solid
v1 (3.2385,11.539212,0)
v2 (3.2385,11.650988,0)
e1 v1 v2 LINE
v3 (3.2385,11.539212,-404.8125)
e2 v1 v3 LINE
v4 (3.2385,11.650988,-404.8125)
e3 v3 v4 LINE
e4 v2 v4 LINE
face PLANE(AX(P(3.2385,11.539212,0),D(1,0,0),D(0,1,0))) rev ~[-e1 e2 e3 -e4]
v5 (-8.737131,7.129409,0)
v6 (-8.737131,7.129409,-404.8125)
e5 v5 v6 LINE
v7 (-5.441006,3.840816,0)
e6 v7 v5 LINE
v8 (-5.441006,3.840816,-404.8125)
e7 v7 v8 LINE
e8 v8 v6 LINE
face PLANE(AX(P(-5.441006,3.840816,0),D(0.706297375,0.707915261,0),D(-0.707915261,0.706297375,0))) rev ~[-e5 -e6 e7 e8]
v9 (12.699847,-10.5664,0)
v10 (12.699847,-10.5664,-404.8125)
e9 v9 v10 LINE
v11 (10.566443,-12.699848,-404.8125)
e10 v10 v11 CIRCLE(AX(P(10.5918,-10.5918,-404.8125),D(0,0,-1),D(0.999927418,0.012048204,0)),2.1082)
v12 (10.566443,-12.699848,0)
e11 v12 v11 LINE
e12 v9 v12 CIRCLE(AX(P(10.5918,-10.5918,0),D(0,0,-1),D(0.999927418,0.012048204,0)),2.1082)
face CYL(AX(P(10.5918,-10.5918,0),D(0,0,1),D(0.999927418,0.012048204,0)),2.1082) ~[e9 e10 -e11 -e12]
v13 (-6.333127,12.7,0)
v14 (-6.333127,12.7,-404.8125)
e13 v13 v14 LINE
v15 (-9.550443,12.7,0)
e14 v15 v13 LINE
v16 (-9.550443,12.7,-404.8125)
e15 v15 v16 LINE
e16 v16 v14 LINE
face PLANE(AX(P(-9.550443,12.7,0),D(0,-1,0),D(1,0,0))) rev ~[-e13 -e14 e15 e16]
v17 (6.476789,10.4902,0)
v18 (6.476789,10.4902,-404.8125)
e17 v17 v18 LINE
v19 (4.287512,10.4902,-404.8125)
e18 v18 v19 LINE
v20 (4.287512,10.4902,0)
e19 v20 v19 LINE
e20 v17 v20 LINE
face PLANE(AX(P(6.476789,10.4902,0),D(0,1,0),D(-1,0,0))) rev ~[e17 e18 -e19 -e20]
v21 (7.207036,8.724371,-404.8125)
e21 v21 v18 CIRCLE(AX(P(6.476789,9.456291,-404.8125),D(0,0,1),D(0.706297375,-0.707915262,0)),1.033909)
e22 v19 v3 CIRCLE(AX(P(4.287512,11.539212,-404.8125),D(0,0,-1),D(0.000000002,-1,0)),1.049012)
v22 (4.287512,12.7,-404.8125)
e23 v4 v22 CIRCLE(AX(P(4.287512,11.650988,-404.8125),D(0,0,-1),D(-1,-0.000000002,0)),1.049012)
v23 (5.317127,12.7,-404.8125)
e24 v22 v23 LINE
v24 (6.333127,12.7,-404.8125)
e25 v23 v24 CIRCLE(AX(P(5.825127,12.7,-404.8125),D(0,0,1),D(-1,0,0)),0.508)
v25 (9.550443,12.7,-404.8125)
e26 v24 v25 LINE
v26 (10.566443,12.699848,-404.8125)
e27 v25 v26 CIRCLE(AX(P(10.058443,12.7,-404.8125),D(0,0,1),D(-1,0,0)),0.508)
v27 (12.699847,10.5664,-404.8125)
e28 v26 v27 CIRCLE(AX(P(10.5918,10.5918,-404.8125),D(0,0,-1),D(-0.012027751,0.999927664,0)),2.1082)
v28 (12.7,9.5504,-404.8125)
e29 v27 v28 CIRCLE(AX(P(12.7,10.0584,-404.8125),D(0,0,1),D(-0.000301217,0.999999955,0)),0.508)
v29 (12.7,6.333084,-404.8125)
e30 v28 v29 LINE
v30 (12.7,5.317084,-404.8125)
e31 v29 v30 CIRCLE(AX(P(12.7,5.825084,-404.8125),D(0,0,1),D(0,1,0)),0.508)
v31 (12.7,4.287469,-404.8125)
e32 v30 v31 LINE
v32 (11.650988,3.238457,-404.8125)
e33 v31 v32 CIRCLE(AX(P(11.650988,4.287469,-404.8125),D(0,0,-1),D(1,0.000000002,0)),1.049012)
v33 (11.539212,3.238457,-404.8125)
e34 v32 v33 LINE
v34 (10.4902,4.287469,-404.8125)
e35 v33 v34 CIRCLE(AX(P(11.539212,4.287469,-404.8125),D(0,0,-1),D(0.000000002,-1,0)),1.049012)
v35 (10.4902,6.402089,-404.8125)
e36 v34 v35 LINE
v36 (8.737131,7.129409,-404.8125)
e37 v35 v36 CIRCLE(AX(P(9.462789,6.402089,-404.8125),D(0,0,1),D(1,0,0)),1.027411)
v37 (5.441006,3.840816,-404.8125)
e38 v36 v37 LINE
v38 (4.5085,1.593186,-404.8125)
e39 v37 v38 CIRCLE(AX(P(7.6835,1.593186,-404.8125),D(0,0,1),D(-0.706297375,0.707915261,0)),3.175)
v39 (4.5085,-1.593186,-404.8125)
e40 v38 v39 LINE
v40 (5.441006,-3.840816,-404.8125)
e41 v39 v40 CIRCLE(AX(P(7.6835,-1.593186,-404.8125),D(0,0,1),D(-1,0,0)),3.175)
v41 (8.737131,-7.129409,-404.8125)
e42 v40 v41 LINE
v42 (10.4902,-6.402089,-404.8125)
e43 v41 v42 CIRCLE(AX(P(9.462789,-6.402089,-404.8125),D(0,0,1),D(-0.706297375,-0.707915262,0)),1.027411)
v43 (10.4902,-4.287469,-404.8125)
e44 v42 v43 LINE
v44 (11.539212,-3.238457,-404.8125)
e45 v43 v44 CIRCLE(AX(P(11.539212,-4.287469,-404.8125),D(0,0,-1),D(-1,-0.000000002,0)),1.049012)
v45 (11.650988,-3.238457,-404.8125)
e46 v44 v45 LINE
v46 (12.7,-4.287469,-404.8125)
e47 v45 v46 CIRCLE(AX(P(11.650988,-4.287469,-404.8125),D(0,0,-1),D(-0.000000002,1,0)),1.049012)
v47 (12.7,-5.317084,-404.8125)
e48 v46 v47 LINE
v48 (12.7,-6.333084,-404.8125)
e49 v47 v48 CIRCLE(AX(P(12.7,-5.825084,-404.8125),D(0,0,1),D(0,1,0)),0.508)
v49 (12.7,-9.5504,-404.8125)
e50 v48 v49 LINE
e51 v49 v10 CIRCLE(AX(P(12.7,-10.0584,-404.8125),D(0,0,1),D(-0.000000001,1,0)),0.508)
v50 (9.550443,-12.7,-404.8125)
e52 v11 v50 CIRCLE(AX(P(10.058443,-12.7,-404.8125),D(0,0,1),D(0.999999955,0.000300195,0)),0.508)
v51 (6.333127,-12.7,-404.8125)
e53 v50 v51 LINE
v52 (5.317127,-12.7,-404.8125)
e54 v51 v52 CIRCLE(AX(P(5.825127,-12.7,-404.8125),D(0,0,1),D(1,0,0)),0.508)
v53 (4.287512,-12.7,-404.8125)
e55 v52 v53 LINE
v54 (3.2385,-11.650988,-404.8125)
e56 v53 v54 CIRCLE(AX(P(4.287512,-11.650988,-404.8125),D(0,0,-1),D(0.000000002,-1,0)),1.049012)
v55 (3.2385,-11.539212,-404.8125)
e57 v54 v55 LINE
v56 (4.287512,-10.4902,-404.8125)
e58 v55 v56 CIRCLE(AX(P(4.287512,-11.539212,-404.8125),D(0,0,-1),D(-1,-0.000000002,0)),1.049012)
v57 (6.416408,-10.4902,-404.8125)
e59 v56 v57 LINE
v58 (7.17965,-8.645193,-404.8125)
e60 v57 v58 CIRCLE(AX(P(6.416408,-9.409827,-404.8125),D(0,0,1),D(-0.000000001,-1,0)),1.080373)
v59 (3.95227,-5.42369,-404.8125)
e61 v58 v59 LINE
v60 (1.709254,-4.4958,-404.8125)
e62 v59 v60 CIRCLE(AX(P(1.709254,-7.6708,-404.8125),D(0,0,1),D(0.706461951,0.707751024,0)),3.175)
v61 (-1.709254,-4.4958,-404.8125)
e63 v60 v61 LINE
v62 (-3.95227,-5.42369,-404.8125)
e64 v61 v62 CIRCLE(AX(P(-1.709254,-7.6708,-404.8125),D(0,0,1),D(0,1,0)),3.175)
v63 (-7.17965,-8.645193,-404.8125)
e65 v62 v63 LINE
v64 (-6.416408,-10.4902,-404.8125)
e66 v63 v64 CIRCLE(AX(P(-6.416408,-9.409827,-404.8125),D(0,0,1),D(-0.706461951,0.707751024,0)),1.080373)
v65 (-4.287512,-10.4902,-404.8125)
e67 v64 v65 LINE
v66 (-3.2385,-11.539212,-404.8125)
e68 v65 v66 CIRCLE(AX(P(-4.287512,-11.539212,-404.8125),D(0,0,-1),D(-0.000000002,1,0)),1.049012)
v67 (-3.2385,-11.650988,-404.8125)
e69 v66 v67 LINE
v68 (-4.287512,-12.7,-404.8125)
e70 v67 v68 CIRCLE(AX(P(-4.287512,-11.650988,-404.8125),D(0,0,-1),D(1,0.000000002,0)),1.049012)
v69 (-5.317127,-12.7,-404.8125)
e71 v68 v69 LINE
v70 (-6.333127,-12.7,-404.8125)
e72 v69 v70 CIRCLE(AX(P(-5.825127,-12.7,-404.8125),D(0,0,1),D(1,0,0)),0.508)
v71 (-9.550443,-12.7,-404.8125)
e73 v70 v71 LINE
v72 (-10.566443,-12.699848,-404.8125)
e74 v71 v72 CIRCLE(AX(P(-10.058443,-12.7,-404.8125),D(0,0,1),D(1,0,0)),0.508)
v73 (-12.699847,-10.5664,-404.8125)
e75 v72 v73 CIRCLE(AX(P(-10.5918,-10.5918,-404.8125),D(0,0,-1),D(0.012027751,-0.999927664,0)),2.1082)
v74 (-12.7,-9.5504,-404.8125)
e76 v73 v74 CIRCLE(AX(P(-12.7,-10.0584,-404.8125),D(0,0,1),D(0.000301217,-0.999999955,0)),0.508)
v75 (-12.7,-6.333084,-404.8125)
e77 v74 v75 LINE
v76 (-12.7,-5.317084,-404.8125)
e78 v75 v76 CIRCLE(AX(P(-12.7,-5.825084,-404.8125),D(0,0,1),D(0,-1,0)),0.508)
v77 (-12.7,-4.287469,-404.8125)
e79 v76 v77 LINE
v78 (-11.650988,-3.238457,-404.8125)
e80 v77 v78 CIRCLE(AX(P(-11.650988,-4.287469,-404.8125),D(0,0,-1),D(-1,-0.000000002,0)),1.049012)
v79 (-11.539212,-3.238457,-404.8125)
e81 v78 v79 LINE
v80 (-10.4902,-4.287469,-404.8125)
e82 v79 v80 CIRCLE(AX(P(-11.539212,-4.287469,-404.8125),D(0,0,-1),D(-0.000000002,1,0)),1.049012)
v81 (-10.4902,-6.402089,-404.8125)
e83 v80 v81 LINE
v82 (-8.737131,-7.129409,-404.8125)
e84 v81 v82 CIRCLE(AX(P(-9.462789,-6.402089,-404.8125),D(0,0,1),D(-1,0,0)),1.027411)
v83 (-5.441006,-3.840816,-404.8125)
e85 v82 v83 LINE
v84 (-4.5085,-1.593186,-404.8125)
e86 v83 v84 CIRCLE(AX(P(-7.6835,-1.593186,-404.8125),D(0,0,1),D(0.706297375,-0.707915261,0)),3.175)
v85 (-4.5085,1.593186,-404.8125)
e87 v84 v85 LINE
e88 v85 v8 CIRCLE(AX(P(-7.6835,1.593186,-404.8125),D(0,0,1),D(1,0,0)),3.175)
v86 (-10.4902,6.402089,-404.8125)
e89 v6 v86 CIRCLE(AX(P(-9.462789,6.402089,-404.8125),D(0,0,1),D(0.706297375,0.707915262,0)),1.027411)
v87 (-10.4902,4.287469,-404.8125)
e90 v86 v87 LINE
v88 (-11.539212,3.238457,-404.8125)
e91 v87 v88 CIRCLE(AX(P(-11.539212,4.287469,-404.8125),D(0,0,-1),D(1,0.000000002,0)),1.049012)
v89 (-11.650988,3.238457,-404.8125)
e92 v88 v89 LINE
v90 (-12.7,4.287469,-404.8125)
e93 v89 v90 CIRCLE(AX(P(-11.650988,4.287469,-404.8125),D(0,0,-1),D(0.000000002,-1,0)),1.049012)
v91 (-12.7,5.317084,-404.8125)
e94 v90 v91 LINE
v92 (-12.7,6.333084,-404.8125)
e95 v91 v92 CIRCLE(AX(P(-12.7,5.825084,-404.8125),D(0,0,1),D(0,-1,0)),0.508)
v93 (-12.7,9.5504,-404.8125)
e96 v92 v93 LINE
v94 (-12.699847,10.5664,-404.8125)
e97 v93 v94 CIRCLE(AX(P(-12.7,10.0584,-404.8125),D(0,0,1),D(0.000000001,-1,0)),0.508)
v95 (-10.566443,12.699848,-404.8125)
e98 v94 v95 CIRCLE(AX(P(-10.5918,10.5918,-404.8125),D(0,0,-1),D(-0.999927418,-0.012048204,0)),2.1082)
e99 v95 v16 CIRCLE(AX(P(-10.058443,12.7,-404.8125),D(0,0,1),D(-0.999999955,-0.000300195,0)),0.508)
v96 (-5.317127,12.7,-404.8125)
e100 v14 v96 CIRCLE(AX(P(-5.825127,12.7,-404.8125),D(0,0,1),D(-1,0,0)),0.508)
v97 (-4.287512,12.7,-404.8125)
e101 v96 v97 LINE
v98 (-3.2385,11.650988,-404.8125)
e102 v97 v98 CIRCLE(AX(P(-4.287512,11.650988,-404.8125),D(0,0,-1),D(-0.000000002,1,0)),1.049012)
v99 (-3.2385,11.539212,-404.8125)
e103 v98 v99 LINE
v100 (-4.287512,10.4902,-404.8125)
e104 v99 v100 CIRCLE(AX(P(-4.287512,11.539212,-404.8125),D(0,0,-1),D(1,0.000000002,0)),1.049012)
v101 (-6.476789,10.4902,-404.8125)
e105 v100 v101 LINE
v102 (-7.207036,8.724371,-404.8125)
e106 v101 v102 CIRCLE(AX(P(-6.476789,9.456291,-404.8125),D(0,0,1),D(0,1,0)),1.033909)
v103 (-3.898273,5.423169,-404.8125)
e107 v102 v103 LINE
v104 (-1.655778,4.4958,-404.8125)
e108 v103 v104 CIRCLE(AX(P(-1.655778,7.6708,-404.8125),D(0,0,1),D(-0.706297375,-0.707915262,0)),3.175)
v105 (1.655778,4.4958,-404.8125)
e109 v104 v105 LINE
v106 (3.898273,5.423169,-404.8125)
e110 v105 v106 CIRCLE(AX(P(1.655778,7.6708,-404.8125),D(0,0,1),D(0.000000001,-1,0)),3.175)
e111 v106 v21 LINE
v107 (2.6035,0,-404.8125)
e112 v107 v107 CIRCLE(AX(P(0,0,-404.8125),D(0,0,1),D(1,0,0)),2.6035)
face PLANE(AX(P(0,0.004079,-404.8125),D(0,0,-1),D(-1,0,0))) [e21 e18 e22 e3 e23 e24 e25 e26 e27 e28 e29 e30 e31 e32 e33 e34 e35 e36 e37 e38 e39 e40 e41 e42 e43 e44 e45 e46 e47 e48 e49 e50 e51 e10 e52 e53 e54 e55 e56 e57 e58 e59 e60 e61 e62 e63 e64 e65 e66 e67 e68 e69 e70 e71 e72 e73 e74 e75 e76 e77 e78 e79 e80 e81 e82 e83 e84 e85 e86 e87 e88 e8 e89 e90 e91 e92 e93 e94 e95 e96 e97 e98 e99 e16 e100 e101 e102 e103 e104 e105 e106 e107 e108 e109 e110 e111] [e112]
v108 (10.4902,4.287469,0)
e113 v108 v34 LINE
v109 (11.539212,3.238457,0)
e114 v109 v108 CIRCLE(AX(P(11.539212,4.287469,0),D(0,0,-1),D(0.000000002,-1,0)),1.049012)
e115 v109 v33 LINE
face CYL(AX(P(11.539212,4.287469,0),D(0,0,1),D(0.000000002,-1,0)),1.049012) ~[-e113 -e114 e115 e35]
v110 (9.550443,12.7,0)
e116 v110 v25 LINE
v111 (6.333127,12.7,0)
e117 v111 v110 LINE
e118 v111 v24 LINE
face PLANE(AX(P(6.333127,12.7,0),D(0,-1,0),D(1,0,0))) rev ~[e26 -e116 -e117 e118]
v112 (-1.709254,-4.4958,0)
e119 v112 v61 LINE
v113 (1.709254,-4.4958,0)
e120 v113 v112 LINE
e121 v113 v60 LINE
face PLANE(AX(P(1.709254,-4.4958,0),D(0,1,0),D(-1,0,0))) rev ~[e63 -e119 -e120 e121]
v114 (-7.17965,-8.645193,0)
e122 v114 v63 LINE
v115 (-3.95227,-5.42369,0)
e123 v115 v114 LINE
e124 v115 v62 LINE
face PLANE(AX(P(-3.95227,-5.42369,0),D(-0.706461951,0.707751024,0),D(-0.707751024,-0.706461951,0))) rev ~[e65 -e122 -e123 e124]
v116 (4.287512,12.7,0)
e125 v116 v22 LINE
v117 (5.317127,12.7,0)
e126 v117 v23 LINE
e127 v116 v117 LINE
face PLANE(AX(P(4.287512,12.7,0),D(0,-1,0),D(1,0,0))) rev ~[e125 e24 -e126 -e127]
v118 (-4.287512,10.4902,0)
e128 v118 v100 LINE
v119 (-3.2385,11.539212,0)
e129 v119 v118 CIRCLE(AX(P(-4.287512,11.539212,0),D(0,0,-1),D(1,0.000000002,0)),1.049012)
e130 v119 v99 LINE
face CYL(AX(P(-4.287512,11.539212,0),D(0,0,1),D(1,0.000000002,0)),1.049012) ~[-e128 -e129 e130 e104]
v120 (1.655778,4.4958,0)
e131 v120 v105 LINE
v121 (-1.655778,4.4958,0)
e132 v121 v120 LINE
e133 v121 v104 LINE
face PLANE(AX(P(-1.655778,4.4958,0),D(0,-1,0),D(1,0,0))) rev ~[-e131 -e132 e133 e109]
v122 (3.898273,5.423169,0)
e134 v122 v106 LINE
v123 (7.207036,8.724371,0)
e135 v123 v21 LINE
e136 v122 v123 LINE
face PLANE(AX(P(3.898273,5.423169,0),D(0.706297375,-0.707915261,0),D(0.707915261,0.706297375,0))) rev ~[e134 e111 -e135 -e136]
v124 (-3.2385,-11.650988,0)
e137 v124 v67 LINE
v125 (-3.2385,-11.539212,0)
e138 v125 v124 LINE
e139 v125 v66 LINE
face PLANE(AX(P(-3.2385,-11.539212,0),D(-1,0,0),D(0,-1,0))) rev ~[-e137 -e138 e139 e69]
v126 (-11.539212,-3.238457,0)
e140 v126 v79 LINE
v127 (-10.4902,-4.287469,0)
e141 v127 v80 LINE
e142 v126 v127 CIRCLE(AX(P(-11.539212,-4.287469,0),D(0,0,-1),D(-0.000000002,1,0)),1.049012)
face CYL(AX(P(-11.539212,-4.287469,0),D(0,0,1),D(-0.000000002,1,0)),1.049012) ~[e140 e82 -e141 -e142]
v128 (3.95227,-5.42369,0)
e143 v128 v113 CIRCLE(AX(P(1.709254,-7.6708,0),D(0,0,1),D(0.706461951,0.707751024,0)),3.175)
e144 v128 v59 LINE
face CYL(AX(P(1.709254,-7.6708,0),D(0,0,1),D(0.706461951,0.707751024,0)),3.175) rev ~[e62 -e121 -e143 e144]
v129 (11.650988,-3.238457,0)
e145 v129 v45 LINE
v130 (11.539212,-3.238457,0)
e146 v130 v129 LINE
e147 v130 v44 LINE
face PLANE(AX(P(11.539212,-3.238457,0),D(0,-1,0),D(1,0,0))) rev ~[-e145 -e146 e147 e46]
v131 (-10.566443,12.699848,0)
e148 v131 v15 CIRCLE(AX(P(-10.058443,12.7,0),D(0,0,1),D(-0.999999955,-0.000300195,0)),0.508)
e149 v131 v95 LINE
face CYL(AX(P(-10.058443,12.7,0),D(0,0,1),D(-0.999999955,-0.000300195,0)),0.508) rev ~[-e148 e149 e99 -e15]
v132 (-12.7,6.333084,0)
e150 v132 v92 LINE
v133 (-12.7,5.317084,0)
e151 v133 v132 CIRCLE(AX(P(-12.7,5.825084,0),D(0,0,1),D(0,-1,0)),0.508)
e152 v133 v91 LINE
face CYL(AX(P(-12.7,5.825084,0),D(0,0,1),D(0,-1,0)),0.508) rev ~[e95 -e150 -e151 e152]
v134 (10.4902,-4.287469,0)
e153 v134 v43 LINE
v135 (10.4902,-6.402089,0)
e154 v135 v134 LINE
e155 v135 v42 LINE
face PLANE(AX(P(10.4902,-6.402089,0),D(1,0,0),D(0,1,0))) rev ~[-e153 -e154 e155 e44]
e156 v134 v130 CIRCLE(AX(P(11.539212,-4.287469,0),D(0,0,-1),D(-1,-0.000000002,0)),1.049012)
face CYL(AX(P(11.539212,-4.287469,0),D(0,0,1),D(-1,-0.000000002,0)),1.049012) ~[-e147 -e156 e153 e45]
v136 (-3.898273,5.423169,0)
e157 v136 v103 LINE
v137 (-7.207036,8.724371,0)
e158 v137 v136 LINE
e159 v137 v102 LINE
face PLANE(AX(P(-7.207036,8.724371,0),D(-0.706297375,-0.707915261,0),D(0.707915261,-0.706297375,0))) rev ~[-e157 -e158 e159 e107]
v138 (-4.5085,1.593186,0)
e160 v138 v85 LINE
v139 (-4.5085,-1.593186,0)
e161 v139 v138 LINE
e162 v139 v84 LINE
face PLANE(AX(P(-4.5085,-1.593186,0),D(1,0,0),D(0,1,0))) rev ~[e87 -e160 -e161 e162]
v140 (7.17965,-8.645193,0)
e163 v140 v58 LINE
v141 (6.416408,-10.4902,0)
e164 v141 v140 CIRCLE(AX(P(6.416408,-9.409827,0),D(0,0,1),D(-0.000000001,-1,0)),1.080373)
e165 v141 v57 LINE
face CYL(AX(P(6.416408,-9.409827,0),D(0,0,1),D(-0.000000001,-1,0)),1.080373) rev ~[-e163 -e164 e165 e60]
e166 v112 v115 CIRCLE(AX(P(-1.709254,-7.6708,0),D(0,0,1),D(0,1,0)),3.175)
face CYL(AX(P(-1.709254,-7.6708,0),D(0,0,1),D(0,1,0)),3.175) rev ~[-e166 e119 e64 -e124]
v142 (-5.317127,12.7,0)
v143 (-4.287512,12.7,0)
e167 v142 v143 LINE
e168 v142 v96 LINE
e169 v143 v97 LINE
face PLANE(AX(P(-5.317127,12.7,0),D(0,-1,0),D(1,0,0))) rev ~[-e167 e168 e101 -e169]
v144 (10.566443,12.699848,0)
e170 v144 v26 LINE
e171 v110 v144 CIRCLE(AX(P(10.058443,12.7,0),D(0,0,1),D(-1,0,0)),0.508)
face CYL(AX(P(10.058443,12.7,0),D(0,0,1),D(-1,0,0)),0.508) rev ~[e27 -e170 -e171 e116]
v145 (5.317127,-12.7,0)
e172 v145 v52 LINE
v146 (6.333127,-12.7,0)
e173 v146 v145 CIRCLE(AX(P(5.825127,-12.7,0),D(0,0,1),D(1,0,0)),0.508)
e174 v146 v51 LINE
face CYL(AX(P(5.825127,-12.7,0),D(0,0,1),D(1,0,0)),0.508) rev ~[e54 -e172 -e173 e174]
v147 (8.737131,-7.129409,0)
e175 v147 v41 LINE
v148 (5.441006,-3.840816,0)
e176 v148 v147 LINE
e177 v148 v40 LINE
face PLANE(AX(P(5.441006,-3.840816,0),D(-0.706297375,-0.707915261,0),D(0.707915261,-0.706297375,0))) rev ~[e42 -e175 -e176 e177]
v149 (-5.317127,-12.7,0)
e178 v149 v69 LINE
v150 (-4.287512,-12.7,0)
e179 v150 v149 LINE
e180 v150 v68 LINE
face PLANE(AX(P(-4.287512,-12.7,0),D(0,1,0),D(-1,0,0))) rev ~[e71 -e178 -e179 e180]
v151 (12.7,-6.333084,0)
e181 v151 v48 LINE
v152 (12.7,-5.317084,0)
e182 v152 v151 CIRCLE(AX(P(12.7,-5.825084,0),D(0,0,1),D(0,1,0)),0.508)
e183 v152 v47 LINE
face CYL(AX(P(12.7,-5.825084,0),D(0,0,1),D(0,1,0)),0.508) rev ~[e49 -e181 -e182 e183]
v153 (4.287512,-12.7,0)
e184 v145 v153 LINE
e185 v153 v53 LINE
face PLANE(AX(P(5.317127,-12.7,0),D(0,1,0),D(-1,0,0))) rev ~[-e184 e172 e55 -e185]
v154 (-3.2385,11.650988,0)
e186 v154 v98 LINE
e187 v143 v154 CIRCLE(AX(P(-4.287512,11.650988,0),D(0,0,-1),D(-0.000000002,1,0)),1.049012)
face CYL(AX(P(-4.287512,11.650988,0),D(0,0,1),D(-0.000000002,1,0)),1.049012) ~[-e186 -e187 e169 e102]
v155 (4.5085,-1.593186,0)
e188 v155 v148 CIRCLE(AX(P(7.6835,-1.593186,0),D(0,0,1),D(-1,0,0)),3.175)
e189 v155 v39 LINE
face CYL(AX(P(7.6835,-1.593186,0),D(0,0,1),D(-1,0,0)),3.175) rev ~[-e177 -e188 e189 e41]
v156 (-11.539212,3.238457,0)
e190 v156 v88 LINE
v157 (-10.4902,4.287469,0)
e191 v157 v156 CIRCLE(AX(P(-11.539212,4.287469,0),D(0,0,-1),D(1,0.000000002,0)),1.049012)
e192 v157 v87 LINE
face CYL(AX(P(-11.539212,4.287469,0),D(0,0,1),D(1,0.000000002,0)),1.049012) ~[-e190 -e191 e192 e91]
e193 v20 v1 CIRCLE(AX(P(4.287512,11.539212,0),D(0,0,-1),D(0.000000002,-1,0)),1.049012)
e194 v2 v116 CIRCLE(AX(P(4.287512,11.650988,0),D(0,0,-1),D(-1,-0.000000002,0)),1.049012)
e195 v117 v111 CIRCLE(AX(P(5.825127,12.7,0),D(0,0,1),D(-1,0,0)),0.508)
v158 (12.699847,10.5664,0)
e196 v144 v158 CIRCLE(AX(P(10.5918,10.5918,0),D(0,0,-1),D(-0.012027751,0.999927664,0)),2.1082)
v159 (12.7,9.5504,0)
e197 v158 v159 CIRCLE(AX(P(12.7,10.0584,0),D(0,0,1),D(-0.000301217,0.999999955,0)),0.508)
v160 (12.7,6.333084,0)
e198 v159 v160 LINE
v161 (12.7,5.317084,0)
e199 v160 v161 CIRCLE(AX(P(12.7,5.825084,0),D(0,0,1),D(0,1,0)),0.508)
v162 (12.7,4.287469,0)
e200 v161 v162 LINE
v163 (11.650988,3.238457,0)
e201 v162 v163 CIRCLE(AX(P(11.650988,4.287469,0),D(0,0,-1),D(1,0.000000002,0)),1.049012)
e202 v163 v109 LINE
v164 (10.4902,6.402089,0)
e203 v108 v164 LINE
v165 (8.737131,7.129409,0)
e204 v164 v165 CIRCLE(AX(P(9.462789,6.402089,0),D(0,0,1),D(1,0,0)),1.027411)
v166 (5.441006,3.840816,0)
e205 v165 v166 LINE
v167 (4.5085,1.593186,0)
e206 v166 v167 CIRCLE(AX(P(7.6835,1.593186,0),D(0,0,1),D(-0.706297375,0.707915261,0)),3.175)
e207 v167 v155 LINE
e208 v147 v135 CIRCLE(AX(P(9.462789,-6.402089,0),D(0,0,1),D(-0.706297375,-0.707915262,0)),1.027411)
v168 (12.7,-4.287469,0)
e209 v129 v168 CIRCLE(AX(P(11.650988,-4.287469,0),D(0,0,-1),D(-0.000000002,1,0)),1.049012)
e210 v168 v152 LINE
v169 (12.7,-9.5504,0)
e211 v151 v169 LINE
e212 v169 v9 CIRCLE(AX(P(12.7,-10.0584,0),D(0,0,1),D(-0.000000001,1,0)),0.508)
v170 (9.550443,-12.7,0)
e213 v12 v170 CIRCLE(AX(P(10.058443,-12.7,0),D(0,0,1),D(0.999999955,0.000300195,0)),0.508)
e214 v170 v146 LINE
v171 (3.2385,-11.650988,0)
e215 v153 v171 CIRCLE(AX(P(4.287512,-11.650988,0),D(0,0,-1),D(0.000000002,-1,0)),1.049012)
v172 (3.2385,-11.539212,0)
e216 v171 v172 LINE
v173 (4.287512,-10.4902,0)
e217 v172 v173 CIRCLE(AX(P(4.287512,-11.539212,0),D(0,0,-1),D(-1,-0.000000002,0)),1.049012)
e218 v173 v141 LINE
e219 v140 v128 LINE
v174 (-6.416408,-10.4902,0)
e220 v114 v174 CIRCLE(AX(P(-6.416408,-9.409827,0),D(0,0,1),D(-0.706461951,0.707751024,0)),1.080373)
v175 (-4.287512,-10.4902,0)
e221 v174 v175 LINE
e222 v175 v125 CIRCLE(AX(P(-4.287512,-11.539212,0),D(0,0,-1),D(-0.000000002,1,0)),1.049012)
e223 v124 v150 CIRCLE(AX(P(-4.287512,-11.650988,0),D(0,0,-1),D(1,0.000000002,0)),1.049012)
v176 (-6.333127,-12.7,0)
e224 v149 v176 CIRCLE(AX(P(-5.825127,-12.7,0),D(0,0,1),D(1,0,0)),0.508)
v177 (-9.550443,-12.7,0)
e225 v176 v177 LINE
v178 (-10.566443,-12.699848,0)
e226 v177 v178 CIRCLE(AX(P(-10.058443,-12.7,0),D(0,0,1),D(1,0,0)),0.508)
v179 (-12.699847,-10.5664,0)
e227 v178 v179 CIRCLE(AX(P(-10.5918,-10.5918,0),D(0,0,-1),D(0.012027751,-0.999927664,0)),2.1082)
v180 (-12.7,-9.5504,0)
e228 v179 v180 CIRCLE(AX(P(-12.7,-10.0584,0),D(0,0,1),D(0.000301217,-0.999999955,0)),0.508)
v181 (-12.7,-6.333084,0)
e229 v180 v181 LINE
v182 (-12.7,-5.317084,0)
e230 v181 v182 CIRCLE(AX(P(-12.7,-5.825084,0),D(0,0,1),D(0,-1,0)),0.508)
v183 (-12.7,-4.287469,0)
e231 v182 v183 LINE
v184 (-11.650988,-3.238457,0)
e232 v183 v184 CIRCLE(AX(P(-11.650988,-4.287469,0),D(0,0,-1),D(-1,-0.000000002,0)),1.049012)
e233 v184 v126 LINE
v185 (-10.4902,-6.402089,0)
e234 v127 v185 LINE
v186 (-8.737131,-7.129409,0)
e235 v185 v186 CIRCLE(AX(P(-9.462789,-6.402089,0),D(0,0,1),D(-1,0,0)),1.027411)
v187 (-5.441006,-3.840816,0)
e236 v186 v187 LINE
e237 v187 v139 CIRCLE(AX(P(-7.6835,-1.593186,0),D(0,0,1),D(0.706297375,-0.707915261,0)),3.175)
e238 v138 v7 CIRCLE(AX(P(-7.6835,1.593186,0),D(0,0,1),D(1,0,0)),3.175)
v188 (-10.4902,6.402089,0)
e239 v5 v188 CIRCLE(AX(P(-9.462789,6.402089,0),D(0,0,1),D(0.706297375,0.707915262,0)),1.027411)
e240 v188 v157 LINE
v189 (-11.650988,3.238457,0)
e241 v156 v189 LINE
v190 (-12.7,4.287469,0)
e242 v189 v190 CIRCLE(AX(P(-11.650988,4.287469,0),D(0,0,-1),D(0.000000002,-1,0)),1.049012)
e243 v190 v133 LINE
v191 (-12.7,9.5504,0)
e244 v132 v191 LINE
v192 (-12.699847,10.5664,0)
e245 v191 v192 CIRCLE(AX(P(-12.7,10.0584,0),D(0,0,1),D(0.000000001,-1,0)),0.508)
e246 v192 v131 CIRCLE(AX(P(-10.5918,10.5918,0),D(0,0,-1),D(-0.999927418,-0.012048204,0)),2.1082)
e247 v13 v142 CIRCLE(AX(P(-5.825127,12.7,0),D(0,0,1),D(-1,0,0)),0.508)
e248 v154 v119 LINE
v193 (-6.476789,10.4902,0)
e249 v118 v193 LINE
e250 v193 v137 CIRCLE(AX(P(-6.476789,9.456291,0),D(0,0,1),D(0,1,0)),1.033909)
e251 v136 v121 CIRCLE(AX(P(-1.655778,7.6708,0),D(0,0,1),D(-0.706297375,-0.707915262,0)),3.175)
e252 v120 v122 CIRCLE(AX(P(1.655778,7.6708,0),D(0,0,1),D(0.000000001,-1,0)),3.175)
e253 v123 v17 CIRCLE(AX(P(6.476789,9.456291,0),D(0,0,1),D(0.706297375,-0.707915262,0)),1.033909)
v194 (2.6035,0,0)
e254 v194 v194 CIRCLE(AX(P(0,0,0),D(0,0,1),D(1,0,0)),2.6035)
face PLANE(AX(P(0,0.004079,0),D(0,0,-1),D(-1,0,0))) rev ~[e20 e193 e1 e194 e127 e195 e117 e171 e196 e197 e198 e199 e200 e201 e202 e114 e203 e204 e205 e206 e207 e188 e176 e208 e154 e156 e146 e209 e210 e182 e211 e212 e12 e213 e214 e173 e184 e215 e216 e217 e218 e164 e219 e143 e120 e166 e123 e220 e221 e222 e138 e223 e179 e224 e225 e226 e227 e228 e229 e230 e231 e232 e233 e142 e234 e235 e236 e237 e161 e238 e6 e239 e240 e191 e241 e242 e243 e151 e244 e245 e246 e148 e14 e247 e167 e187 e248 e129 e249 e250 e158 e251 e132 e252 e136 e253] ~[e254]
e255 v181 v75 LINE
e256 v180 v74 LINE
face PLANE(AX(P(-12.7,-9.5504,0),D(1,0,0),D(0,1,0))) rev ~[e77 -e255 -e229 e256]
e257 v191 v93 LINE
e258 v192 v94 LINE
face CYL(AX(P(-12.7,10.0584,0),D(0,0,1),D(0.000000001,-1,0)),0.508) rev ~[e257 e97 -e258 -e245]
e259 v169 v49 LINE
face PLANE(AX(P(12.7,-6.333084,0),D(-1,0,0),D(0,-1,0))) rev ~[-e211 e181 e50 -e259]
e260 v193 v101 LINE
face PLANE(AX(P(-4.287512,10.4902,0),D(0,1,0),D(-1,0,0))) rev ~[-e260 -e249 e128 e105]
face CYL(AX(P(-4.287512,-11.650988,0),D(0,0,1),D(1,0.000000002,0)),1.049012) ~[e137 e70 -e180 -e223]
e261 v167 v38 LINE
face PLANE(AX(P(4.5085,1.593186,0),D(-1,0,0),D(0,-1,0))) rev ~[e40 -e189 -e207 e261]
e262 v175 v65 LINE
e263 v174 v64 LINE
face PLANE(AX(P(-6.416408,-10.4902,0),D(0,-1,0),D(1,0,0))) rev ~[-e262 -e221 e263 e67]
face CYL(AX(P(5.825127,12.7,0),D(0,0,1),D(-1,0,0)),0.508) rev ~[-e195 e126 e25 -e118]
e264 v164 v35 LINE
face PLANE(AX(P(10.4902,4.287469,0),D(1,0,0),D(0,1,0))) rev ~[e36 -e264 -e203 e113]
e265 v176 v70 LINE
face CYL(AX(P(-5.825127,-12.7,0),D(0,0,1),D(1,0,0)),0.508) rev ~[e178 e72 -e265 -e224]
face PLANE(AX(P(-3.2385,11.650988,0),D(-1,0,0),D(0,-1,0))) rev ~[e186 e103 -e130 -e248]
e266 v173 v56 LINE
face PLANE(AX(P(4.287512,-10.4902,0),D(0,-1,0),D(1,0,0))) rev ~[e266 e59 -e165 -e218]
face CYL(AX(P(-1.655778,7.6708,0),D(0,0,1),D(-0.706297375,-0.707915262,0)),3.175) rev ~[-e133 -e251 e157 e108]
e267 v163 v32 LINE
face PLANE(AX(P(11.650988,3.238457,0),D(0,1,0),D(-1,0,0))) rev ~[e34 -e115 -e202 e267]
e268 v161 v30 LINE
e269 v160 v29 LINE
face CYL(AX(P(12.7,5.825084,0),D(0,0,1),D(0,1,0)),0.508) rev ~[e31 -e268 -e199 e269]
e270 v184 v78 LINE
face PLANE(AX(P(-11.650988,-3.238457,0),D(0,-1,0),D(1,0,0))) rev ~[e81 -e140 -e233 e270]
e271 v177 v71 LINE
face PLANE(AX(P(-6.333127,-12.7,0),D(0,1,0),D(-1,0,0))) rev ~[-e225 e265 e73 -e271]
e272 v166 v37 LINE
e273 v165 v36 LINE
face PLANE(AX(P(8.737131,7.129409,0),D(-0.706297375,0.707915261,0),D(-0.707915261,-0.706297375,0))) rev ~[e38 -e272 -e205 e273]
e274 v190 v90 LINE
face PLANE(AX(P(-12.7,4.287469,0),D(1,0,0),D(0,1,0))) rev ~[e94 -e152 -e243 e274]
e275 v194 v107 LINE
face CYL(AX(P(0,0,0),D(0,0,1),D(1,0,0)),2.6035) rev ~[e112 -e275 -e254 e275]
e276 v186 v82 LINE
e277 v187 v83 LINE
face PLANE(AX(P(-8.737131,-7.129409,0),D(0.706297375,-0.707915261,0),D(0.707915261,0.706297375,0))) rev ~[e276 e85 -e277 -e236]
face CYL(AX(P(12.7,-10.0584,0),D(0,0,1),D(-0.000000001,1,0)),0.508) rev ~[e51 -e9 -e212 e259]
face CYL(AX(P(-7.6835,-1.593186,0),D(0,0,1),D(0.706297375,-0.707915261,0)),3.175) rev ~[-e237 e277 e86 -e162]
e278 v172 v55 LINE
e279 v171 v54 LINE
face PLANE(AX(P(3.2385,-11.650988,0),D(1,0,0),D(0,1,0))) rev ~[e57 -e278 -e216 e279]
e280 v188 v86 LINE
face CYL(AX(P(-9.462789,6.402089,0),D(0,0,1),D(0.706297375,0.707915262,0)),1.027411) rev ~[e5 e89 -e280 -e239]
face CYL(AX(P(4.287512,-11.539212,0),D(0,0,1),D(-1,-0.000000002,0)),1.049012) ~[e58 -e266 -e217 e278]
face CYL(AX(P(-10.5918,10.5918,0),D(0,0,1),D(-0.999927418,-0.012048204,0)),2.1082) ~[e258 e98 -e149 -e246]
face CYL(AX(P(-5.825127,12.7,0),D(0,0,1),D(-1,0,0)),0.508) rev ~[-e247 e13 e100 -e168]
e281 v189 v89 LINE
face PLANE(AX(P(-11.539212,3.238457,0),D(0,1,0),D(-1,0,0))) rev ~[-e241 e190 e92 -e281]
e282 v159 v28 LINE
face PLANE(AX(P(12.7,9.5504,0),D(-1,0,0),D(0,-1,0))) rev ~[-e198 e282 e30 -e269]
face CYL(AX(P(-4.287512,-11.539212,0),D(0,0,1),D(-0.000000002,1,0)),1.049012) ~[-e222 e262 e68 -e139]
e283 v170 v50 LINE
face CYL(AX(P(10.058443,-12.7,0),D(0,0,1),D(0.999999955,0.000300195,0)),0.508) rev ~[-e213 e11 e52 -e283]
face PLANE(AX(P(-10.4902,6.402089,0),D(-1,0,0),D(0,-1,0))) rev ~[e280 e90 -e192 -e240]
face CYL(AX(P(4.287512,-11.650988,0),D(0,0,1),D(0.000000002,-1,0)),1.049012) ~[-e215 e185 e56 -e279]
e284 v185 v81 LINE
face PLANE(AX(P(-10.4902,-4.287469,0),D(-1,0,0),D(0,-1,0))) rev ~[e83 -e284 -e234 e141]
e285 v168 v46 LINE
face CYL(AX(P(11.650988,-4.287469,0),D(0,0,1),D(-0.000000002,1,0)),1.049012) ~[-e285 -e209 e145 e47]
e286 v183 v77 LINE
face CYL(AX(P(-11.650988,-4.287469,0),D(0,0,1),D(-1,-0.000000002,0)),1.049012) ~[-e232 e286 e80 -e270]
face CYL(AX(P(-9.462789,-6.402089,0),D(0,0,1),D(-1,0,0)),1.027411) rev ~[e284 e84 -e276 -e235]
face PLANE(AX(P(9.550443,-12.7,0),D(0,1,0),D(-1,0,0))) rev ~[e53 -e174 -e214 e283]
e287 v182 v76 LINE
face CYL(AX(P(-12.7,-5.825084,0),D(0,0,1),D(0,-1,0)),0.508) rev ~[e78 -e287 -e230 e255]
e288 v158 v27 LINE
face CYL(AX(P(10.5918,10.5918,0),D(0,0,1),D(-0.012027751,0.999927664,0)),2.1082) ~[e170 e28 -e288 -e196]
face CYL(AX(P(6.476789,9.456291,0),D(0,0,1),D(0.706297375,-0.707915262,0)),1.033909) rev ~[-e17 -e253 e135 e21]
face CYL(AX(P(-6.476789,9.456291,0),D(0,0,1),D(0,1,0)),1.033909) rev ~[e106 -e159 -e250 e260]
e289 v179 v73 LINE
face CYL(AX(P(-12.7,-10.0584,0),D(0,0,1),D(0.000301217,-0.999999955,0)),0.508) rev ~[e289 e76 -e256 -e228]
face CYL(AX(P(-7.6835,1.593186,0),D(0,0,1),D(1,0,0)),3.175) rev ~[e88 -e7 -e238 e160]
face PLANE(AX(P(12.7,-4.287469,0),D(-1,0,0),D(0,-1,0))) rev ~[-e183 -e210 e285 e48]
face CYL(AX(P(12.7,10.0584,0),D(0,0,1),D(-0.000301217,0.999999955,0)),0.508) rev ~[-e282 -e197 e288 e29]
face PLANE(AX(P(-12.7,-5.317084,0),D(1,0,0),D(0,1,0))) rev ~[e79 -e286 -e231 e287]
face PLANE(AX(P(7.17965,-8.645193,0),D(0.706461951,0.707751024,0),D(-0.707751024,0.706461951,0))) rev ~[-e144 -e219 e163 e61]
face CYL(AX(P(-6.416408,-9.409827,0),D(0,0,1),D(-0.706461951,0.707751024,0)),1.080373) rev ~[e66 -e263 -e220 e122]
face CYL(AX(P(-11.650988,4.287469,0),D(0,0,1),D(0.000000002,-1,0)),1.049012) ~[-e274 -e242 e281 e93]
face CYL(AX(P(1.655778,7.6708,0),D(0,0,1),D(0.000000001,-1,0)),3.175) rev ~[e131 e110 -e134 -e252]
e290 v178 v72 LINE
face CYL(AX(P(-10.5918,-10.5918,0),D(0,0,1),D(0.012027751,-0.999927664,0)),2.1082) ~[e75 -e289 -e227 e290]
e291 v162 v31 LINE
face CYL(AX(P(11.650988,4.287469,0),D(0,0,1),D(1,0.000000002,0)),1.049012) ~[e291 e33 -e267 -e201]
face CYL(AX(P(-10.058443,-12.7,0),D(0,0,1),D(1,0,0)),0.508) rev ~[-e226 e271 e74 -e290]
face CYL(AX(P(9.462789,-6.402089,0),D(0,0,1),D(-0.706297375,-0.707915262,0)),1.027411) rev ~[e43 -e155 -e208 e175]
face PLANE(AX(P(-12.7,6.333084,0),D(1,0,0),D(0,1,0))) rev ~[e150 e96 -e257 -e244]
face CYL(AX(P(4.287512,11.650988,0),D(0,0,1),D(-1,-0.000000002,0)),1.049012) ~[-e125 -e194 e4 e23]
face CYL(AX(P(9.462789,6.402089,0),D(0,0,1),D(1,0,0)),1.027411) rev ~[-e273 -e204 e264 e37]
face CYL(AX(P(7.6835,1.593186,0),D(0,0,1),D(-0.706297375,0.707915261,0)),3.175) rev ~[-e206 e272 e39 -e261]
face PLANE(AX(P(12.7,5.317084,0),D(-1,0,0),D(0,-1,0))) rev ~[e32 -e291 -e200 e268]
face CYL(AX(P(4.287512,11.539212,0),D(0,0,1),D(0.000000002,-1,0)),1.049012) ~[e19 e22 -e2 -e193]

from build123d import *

# Parameters (mm, degrees)
SKETCH1_R      = 2.6035
EXTRUDE1_DEPTH = 404.8125


with BuildPart() as part:
    # Sketch1 → Extrude1 (new body)
    with BuildSketch(Plane.XY):
        with BuildLine():
            Line((-7.207036008, 8.724370562), (-3.898272566, 5.423169045))
            ThreePointArc((-3.898272566, 5.423169045), (-2.869120213, 4.736787962), (-1.655778399, 4.4958))
            Line((-1.655778399, 4.4958), (1.655778399, 4.4958))
            ThreePointArc((1.655778399, 4.4958), (2.869120213, 4.736787962), (3.898272566, 5.423169045))
            Line((3.898272566, 5.423169045), (7.207036008, 8.724370562))
            ThreePointArc((7.207036008, 8.724370562), (7.432222385, 9.85140422), (6.476788598, 10.4902))
            Line((6.476788598, 10.4902), (4.287512407, 10.4902))
            ThreePointArc((4.287512407, 10.4902), (3.54574862, 10.79744862), (3.2385, 11.539212407))
            Line((3.2385, 11.539212407), (3.2385, 11.650987593))
            ThreePointArc((3.2385, 11.650987593), (3.54574862, 12.39275138), (4.287512407, 12.7))
            Line((4.287512407, 12.7), (5.317126718, 12.7))
            ThreePointArc((5.317126718, 12.7), (5.825126718, 12.192), (6.333126718, 12.7))
            Line((6.333126718, 12.7), (9.550443118, 12.7))
            ThreePointArc((9.550443118, 12.7), (10.058366869, 12.192000006), (10.566443095, 12.699847501))
            ThreePointArc((10.566443095, 12.699847501), (12.082537762, 12.08250727), (12.699846982, 10.566399977))
            ThreePointArc((12.699846982, 10.566399977), (12.192000006, 10.058323491), (12.7, 9.5504))
            Line((12.7, 9.5504), (12.7, 6.3330836))
            ThreePointArc((12.7, 6.3330836), (12.192, 5.8250836), (12.7, 5.3170836))
            Line((12.7, 5.3170836), (12.7, 4.287469289))
            ThreePointArc((12.7, 4.287469289), (12.39275138, 3.545705502), (11.650987593, 3.238456882))
            Line((11.650987593, 3.238456882), (11.539212407, 3.238456882))
            ThreePointArc((11.539212407, 3.238456882), (10.79744862, 3.545705502), (10.4902, 4.287469289))
            Line((10.4902, 4.287469289), (10.4902, 6.402089023))
            ThreePointArc((10.4902, 6.402089023), (9.856505071, 7.351067942), (8.737131347, 7.129408934))
            Line((8.737131347, 7.129408934), (5.441005833, 3.840816462))
            ThreePointArc((5.441005833, 3.840816462), (4.750877967, 2.809883091), (4.5085, 1.593185507))
            Line((4.5085, 1.593185507), (4.5085, -1.593185507))
            ThreePointArc((4.5085, -1.593185507), (4.750877967, -2.809883091), (5.441005833, -3.840816462))
            Line((5.441005833, -3.840816462), (8.737131347, -7.129408934))
            ThreePointArc((8.737131347, -7.129408934), (9.856505071, -7.351067942), (10.4902, -6.402089023))
            Line((10.4902, -6.402089023), (10.4902, -4.287469289))
            ThreePointArc((10.4902, -4.287469289), (10.79744862, -3.545705502), (11.539212407, -3.238456882))
            Line((11.539212407, -3.238456882), (11.650987593, -3.238456882))
            ThreePointArc((11.650987593, -3.238456882), (12.39275138, -3.545705502), (12.7, -4.287469289))
            Line((12.7, -4.287469289), (12.7, -5.3170836))
            ThreePointArc((12.7, -5.3170836), (12.192, -5.8250836), (12.7, -6.3330836))
            Line((12.7, -6.3330836), (12.7, -9.5504))
            ThreePointArc((12.7, -9.5504), (12.192000006, -10.058323491), (12.699846982, -10.566399977))
            ThreePointArc((12.699846982, -10.566399977), (12.082537762, -12.08250727), (10.566443095, -12.699847501))
            ThreePointArc((10.566443095, -12.699847501), (10.058366869, -12.192000006), (9.550443118, -12.7))
            Line((9.550443118, -12.7), (6.333126718, -12.7))
            ThreePointArc((6.333126718, -12.7), (5.825126718, -12.192), (5.317126718, -12.7))
            Line((5.317126718, -12.7), (4.287512407, -12.7))
            ThreePointArc((4.287512407, -12.7), (3.54574862, -12.39275138), (3.2385, -11.650987593))
            Line((3.2385, -11.650987593), (3.2385, -11.539212407))
            ThreePointArc((3.2385, -11.539212407), (3.54574862, -10.79744862), (4.287512407, -10.4902))
            Line((4.287512407, -10.4902), (6.416408329, -10.4902))
            ThreePointArc((6.416408329, -10.4902), (7.41473083, -9.822813117), (7.179650497, -8.645192506))
            Line((7.179650497, -8.645192506), (3.952270251, -5.423690499))
            ThreePointArc((3.952270251, -5.423690499), (2.922936451, -4.736929036), (1.709253557, -4.4958))
            Line((1.709253557, -4.4958), (-1.709253557, -4.4958))
            ThreePointArc((-1.709253557, -4.4958), (-2.922936451, -4.736929036), (-3.952270251, -5.423690499))
            Line((-3.952270251, -5.423690499), (-7.179650497, -8.645192506))
            ThreePointArc((-7.179650497, -8.645192506), (-7.41473083, -9.822813117), (-6.416408329, -10.4902))
            Line((-6.416408329, -10.4902), (-4.287512407, -10.4902))
            ThreePointArc((-4.287512407, -10.4902), (-3.54574862, -10.79744862), (-3.2385, -11.539212407))
            Line((-3.2385, -11.539212407), (-3.2385, -11.650987593))
            ThreePointArc((-3.2385, -11.650987593), (-3.54574862, -12.39275138), (-4.287512407, -12.7))
            Line((-4.287512407, -12.7), (-5.317126718, -12.7))
            ThreePointArc((-5.317126718, -12.7), (-5.825126718, -12.192), (-6.333126718, -12.7))
            Line((-6.333126718, -12.7), (-9.550443118, -12.7))
            ThreePointArc((-9.550443118, -12.7), (-10.058366869, -12.192000006), (-10.566443095, -12.699847501))
            ThreePointArc((-10.566443095, -12.699847501), (-12.082537762, -12.08250727), (-12.699846982, -10.566399977))
            ThreePointArc((-12.699846982, -10.566399977), (-12.192000006, -10.058323491), (-12.7, -9.5504))
            Line((-12.7, -9.5504), (-12.7, -6.3330836))
            ThreePointArc((-12.7, -6.3330836), (-12.192, -5.8250836), (-12.7, -5.3170836))
            Line((-12.7, -5.3170836), (-12.7, -4.287469289))
            ThreePointArc((-12.7, -4.287469289), (-12.39275138, -3.545705502), (-11.650987593, -3.238456882))
            Line((-11.650987593, -3.238456882), (-11.539212407, -3.238456882))
            ThreePointArc((-11.539212407, -3.238456882), (-10.79744862, -3.545705502), (-10.4902, -4.287469289))
            Line((-10.4902, -4.287469289), (-10.4902, -6.402089023))
            ThreePointArc((-10.4902, -6.402089023), (-9.856505071, -7.351067942), (-8.737131347, -7.129408934))
            Line((-8.737131347, -7.129408934), (-5.441005833, -3.840816462))
            ThreePointArc((-5.441005833, -3.840816462), (-4.750877967, -2.809883091), (-4.5085, -1.593185507))
            Line((-4.5085, -1.593185507), (-4.5085, 1.593185507))
            ThreePointArc((-4.5085, 1.593185507), (-4.750877967, 2.809883091), (-5.441005833, 3.840816462))
            Line((-5.441005833, 3.840816462), (-8.737131347, 7.129408934))
            ThreePointArc((-8.737131347, 7.129408934), (-9.856505071, 7.351067942), (-10.4902, 6.402089023))
            Line((-10.4902, 6.402089023), (-10.4902, 4.287469289))
            ThreePointArc((-10.4902, 4.287469289), (-10.79744862, 3.545705502), (-11.539212407, 3.238456882))
            Line((-11.539212407, 3.238456882), (-11.650987593, 3.238456882))
            ThreePointArc((-11.650987593, 3.238456882), (-12.39275138, 3.545705502), (-12.7, 4.287469289))
            Line((-12.7, 4.287469289), (-12.7, 5.3170836))
            ThreePointArc((-12.7, 5.3170836), (-12.192, 5.8250836), (-12.7, 6.3330836))
            Line((-12.7, 6.3330836), (-12.7, 9.5504))
            ThreePointArc((-12.7, 9.5504), (-12.192000006, 10.058323491), (-12.699846982, 10.566399977))
            ThreePointArc((-12.699846982, 10.566399977), (-12.082537762, 12.08250727), (-10.566443095, 12.699847501))
            ThreePointArc((-10.566443095, 12.699847501), (-10.058366869, 12.192000006), (-9.550443118, 12.7))
            Line((-9.550443118, 12.7), (-6.333126718, 12.7))
            ThreePointArc((-6.333126718, 12.7), (-5.825126718, 12.192), (-5.317126718, 12.7))
            Line((-5.317126718, 12.7), (-4.287512407, 12.7))
            ThreePointArc((-4.287512407, 12.7), (-3.54574862, 12.39275138), (-3.2385, 11.650987593))
            Line((-3.2385, 11.650987593), (-3.2385, 11.539212407))
            ThreePointArc((-3.2385, 11.539212407), (-3.54574862, 10.79744862), (-4.287512407, 10.4902))
            Line((-4.287512407, 10.4902), (-6.476788598, 10.4902))
            ThreePointArc((-6.476788598, 10.4902), (-7.432222385, 9.85140422), (-7.207036008, 8.724370562))
        make_face()
        Circle(SKETCH1_R, mode=Mode.SUBTRACT)
    extrude(amount=-EXTRUDE1_DEPTH)


solid = part.part
